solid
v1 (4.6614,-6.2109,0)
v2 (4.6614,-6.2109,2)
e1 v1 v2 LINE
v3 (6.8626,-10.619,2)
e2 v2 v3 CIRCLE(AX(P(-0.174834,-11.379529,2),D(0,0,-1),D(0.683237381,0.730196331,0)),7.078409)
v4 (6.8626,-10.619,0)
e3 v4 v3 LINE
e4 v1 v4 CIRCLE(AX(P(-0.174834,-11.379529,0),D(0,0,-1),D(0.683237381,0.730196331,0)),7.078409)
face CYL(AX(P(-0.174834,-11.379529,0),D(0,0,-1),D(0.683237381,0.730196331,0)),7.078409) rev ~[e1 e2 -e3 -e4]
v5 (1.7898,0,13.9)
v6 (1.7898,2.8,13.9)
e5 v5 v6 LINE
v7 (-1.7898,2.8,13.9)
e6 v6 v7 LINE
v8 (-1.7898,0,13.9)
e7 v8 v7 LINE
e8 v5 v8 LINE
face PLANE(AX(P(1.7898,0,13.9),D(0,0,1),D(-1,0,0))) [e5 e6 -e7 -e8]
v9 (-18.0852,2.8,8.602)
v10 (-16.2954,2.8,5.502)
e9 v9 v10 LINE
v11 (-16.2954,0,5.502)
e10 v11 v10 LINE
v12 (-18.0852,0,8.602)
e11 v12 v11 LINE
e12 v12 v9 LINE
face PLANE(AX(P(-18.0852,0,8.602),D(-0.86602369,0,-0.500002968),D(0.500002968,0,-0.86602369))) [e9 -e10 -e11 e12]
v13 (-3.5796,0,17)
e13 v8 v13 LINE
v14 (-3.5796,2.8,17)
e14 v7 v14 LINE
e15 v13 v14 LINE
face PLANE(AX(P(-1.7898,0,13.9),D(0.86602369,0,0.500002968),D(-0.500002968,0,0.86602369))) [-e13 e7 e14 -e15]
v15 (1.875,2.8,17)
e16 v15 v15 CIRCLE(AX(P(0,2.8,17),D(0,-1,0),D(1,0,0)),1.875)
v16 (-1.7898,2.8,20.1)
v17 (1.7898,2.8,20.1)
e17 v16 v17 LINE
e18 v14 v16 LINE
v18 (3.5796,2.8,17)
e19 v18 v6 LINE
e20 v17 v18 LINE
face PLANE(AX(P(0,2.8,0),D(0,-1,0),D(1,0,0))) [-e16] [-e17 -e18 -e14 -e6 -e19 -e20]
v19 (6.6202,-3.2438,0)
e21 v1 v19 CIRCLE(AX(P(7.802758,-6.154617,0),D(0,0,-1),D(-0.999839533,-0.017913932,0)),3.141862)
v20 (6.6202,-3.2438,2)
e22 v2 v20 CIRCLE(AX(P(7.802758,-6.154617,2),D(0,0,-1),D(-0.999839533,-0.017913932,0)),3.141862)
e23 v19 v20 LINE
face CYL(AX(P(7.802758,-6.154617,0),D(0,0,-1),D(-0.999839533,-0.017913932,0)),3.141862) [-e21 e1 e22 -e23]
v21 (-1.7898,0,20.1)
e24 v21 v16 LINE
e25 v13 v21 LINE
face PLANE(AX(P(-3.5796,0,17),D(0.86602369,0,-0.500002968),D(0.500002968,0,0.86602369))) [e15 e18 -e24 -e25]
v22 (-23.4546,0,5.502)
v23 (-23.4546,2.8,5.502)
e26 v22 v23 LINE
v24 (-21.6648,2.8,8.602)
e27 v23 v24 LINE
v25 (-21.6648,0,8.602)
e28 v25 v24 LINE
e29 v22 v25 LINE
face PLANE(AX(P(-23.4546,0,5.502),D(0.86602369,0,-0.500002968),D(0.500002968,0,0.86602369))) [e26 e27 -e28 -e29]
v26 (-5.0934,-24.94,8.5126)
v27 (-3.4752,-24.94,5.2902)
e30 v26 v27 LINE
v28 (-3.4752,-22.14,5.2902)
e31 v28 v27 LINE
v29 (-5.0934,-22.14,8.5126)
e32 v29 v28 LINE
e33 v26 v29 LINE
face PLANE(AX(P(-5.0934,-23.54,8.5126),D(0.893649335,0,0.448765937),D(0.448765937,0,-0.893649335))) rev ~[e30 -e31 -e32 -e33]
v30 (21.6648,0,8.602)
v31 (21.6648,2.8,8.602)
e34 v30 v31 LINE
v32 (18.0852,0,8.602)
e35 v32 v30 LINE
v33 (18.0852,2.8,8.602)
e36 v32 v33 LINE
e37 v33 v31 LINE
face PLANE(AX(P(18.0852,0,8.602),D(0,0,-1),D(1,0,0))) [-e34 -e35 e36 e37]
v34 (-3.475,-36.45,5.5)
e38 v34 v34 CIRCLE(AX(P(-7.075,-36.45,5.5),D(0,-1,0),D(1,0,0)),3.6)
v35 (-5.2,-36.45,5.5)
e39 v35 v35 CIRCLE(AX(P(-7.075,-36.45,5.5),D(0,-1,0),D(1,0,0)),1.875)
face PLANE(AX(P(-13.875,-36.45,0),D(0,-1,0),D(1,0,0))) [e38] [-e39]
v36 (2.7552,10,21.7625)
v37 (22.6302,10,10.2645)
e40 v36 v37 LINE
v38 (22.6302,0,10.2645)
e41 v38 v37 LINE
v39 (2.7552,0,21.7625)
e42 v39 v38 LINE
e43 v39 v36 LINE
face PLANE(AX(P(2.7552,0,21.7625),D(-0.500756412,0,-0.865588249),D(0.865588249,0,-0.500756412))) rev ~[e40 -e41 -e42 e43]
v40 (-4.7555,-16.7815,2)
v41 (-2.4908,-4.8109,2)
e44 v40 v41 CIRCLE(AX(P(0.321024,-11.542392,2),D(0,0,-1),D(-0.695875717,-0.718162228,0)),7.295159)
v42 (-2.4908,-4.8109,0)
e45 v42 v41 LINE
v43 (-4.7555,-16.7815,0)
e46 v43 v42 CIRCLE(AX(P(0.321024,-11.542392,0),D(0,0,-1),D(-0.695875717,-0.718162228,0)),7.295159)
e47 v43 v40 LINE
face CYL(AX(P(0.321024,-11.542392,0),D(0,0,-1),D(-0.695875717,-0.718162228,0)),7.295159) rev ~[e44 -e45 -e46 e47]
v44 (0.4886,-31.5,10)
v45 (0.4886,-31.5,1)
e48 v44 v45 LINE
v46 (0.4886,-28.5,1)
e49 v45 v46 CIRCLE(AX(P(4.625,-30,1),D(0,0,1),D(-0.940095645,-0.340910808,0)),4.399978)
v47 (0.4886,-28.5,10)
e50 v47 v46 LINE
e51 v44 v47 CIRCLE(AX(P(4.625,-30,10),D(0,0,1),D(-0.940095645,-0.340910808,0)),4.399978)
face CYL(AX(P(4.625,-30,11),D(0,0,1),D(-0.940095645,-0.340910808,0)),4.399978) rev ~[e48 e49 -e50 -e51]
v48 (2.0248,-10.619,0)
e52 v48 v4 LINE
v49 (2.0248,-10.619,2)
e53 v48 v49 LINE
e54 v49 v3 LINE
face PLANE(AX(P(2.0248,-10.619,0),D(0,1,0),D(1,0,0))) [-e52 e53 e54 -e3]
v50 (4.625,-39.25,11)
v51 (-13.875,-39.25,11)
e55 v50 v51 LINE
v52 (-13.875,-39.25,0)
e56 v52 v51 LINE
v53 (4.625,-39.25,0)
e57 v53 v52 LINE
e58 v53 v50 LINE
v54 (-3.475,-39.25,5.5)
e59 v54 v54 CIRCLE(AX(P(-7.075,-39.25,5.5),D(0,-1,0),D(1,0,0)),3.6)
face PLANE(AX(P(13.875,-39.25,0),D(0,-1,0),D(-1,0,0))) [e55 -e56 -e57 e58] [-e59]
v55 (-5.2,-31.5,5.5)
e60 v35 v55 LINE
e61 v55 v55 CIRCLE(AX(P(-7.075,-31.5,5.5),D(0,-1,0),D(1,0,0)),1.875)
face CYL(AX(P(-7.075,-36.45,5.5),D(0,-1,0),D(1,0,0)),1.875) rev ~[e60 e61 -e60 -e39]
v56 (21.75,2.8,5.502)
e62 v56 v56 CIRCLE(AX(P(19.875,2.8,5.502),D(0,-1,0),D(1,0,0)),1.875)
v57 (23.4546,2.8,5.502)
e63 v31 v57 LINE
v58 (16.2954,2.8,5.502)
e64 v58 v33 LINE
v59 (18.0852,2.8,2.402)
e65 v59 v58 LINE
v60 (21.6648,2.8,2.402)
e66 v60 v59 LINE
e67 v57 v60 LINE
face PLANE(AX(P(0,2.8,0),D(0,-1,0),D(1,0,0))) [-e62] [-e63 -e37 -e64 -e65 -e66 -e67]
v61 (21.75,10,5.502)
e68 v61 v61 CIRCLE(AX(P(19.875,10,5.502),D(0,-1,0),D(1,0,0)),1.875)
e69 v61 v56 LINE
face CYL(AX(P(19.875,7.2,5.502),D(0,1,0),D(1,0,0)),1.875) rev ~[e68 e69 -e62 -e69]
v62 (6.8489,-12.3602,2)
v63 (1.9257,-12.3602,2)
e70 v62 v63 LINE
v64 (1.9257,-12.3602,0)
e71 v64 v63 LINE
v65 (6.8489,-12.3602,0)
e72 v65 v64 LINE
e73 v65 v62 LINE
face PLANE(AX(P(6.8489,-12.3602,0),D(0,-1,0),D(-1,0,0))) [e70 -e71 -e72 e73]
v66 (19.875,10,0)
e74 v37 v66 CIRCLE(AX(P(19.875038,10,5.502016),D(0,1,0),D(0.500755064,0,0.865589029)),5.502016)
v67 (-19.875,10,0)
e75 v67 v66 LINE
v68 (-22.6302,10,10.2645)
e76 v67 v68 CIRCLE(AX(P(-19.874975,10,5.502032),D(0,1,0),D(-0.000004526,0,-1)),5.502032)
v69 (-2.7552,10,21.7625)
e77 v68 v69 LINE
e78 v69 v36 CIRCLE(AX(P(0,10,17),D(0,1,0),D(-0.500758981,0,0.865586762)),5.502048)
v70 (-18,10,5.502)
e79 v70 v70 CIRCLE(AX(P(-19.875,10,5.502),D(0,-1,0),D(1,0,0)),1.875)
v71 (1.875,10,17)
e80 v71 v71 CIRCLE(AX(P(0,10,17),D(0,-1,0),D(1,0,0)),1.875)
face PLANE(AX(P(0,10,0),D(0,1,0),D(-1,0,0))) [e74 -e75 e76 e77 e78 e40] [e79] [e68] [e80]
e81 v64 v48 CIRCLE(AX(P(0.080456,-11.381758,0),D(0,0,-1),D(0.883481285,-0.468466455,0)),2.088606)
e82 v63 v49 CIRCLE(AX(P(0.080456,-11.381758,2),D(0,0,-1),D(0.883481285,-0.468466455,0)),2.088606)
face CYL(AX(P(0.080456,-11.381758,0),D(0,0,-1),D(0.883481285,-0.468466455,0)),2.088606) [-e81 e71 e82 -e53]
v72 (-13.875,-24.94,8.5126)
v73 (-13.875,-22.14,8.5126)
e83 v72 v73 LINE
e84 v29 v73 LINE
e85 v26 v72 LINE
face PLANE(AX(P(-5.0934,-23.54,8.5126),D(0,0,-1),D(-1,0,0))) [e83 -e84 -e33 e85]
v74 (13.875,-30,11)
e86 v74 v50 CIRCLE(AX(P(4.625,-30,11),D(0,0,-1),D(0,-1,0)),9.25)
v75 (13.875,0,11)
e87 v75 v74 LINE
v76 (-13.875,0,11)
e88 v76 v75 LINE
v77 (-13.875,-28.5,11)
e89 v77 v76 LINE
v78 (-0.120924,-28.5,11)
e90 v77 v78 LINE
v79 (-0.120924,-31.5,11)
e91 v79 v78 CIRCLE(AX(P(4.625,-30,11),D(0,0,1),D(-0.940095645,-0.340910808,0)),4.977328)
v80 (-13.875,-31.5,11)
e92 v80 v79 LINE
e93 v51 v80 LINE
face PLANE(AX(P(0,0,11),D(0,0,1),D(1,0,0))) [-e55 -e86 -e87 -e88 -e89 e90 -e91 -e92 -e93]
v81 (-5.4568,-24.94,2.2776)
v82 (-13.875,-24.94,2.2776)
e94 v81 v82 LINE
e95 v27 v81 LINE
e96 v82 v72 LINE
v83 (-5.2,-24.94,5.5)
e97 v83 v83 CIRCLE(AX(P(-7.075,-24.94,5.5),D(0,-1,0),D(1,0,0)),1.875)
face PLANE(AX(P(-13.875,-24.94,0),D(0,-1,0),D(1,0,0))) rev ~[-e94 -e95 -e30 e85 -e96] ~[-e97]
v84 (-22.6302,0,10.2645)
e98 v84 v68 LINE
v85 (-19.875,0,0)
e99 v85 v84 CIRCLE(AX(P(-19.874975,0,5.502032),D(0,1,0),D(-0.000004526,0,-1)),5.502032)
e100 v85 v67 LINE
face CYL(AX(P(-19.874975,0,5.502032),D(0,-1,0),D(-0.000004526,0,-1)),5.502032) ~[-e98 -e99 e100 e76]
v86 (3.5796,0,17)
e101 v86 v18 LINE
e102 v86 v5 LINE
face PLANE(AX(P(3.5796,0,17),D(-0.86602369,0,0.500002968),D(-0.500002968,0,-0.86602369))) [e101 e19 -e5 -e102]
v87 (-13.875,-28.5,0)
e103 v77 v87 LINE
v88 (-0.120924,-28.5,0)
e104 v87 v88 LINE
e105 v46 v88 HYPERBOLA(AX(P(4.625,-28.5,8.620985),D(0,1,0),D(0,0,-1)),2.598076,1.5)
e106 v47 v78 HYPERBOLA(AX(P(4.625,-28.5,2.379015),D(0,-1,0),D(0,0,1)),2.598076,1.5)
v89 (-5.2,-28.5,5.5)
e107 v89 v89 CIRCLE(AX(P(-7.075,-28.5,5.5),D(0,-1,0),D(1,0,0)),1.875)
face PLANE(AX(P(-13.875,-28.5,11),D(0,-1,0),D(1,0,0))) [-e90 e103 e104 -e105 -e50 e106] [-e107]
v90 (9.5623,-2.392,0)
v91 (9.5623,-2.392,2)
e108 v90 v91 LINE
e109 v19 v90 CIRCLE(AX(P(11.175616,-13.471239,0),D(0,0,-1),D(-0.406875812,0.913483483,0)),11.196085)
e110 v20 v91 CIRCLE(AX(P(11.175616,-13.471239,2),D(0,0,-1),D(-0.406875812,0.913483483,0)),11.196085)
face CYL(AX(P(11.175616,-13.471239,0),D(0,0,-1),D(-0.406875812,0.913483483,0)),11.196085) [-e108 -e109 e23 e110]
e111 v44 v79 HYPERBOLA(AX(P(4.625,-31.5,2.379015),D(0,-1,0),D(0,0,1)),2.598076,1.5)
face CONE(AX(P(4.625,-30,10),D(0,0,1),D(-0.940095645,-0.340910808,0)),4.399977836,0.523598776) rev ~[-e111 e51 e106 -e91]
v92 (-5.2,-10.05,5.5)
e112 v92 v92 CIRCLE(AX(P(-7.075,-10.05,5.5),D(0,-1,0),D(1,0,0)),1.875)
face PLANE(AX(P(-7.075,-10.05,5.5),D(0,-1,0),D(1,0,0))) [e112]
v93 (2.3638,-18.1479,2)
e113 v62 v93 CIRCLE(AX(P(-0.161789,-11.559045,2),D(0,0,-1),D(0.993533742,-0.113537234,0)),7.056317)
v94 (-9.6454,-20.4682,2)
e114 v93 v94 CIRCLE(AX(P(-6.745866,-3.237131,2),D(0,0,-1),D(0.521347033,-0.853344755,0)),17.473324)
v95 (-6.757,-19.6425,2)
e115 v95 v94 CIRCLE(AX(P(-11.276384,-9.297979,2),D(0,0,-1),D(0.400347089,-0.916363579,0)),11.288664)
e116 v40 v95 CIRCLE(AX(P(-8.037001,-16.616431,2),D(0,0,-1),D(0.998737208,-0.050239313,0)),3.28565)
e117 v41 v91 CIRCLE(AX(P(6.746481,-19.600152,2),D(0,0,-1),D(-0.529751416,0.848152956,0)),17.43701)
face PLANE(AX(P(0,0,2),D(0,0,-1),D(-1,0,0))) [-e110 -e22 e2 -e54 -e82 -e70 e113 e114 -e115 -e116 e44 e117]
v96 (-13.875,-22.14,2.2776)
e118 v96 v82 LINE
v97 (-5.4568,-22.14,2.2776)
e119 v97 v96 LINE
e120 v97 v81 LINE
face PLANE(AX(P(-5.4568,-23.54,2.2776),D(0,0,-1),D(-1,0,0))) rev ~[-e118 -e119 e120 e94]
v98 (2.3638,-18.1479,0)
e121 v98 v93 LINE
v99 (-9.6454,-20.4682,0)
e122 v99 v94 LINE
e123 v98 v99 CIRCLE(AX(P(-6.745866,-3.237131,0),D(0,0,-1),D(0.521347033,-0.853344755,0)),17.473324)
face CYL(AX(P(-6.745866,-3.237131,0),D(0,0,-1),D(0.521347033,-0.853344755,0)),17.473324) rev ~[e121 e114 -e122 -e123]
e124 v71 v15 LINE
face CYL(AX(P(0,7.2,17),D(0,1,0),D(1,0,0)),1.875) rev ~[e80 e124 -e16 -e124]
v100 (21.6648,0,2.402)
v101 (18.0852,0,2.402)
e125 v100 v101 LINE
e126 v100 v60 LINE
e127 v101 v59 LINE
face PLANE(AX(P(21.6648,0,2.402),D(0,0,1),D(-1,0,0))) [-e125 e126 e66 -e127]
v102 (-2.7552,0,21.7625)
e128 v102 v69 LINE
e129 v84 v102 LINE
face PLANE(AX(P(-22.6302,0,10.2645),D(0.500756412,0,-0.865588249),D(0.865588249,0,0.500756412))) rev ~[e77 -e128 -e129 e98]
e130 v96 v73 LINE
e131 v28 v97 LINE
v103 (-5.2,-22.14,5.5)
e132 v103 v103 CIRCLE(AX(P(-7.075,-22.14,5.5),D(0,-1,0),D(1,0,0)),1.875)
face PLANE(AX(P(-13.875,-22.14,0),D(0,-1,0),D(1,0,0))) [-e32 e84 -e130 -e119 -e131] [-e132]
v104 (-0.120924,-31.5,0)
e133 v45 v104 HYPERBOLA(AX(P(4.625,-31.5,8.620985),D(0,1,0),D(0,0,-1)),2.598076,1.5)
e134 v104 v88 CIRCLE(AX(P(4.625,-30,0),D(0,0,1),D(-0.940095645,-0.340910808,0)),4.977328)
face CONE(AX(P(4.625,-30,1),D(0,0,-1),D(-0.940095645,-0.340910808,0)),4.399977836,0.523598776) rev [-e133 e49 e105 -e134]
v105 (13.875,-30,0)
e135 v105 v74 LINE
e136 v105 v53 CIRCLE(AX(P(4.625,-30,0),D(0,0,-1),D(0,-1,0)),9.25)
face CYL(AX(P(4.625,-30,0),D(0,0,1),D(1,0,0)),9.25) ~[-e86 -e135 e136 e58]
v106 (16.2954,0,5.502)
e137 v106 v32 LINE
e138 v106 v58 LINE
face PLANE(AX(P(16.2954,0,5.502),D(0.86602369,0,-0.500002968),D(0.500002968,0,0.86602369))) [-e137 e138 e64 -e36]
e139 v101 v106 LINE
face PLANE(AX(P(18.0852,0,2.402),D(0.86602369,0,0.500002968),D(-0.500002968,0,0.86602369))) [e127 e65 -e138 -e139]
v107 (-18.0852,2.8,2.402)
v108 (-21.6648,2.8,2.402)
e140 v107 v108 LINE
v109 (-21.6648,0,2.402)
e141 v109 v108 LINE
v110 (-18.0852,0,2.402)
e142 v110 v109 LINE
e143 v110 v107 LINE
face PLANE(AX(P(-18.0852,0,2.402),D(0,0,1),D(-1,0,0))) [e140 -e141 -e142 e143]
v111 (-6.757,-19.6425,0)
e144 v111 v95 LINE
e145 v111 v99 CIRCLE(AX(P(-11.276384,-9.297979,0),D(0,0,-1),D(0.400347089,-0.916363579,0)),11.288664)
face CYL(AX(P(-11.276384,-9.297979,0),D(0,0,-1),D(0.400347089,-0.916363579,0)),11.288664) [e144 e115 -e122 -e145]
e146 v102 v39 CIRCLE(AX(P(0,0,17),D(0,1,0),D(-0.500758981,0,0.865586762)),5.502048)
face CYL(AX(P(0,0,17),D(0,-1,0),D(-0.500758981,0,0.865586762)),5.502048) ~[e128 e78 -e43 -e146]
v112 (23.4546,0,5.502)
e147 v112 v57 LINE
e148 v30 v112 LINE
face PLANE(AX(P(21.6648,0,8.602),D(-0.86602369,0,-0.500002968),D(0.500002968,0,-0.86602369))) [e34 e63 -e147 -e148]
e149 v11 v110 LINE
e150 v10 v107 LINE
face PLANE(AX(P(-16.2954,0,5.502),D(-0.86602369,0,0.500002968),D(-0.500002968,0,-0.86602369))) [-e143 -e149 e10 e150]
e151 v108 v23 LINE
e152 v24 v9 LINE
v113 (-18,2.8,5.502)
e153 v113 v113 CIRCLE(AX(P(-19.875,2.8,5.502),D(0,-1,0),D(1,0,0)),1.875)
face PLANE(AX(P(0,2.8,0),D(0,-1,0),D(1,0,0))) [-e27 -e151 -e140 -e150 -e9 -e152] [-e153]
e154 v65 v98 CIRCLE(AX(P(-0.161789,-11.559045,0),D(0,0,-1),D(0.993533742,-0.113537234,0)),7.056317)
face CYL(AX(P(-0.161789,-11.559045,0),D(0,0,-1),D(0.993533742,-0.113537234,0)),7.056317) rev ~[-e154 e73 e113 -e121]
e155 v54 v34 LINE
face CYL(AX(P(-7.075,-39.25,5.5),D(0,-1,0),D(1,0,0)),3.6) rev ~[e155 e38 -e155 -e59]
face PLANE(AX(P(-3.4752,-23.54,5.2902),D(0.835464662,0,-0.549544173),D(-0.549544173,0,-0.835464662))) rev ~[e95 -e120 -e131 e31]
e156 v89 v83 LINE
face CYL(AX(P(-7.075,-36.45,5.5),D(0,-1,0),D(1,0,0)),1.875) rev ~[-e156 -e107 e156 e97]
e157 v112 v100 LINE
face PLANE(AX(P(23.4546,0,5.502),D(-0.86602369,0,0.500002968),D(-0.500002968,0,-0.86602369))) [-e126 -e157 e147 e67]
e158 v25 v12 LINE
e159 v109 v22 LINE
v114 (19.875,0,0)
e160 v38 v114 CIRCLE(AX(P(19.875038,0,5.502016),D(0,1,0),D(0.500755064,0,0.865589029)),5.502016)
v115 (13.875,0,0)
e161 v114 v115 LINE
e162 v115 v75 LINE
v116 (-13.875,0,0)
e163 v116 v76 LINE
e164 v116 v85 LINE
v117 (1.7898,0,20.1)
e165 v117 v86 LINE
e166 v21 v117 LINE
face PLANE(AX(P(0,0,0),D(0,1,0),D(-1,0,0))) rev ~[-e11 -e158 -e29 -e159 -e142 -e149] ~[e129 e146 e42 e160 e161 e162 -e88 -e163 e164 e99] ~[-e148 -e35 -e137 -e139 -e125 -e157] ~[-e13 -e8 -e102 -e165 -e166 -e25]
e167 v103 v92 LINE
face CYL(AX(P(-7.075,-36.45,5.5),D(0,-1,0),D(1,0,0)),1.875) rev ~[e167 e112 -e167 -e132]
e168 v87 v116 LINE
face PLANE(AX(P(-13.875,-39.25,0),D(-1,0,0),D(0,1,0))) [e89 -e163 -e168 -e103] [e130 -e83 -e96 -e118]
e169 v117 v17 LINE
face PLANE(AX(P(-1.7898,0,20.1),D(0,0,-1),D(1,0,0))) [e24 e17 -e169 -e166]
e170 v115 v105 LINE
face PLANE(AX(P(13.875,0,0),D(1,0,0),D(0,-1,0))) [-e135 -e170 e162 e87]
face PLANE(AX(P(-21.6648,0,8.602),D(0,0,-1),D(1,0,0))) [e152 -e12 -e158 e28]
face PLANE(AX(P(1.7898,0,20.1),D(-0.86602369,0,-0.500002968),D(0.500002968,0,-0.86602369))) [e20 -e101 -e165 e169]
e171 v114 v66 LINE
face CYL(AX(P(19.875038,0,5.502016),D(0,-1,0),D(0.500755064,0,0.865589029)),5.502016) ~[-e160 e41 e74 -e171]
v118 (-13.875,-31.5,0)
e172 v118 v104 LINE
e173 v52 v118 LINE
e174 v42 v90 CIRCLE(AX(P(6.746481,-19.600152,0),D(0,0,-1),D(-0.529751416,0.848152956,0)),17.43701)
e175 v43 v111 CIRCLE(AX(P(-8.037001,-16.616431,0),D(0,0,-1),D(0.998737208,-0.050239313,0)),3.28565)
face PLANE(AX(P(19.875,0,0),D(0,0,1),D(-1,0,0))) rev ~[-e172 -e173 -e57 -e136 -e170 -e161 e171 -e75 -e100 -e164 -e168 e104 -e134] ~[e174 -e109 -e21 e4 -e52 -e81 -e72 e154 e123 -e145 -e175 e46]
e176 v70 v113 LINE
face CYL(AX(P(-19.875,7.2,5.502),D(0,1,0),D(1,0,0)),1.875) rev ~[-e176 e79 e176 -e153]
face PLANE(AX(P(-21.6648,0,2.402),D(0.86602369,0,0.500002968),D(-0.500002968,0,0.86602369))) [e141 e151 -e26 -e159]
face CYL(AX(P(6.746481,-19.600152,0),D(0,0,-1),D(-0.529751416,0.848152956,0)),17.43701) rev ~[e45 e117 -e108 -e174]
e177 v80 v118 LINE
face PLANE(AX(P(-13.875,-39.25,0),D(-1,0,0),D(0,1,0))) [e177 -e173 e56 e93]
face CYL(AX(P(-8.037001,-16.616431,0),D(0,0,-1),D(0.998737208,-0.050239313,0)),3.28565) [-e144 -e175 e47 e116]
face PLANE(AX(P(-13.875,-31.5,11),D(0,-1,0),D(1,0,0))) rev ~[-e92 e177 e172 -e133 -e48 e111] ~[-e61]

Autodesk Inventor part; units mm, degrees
sketch "Boceto1" plane through (0, 0, 0) normal (0, 0, 1) x (1, 0, 0)
  line L0 (-13.875, 0) -> (13.875, 0)
  line L1 (13.875, 0) -> (13.875, -39.25)
  line L2 (13.875, -39.25) -> (-13.875, -39.25)
  line L3 (-13.875, -39.25) -> (-13.875, 0)
  point P0 (0, 0)
  point P1 (0, 0)
  dimension "d0" = 27.75
  dimension "d1" = 39.25
extrude "Extrusión1" add sketch "Boceto1" along normal blind 11
fillet "Empalme1" radius 9.25 1 edges at (13.875, -39.25, 5.5)
sketch "Boceto2" plane through (0, 0, 11) normal (0, 0, 1) x (1, 0, 0)
  arc A0 (4.625, -39.25) -> (13.875, -30) centre (4.625, -30) ccw projected
  line L0 (13.875, -30) -> (13.875, 0) projected
  line L1 (13.875, 0) -> (-13.875, 0) projected
  line L2 (-13.875, 0) -> (-13.875, -39.25) projected
  line L3 (-13.875, -39.25) -> (4.625, -39.25) projected
  line L4 (-13.875, 0) -> (-13.875, -39.25) projected
  line L5 (-13.875, -31.5) -> (0.4886, -31.5)
  line L6 (-13.875, -28.5) -> (0.4886, -28.5)
  arc A1 (0.4886, -31.5) -> (0.4886, -28.5) centre (4.625, -30) ccw
  point P0 (0, 0)
  dimension "d5" = 3
  dimension "d6" = 7.75
  dimension "d13" = 1.5
  dimension "d62" = 4.4
  dimension "d63" = 9.25
extrude "Extrusión2" cut sketch "Boceto2" against normal blind 11 contours L2 L6 A1 L5
sketch "Boceto3" plane through (0, 0, 0) normal (0, 1, 0) x (-1, 0, 0)
  line L0 (-19.875, 0) -> (19.875, 0)
  line L1 (22.6302, 10.2645) -> (2.7552, 21.7625)
  line L2 (-2.7552, 21.7625) -> (-22.6302, 10.2645)
  line L3 (13.875, 0) -> (-13.875, 0) projected
  arc A0 (-22.6302, 10.2645) -> (-19.875, 0) centre (-19.875, 5.502) ccw
  arc A1 (19.875, 0) -> (22.6302, 10.2645) centre (19.875, 5.502) ccw
  arc A2 (2.7552, 21.7625) -> (-2.7552, 21.7625) centre (0, 17) ccw
  point P0 (0, 0)
  point P1 (0, 23.3564)
  point P2 (0, 0)
  point P3 (0, 0)
  point P4 (0, 0)
  point P5 (0, 0)
  dimension "d21" = 30.05
  dimension "d23" = 39.75
  dimension "d25" = 17
extrude "Extrusión3" add sketch "Boceto3" along normal blind 10
ref_plane "Plano de trabajo2" through (0, 7.2, 0) normal (0, 1, 0) x (1, 0, 0)
sketch "Boceto5" plane through (0, 7.2, 0) normal (0, 1, 0) x (1, 0, 0)
  line L0 (19.875, 0) -> (-19.875, 0) projected
  arc A0 (-19.875, 0) -> (-22.6302, -10.2645) centre (-19.875, -5.502) ccw projected
  line L1 (-22.6302, -10.2645) -> (-2.7552, -21.7625) projected
  arc A1 (-2.7552, -21.7625) -> (2.7552, -21.7625) centre (0, -17) ccw projected
  line L2 (2.7552, -21.7625) -> (22.6302, -10.2645) projected
  arc A2 (22.6302, -10.2645) -> (19.875, 0) centre (19.875, -5.502) ccw projected
  circle A3 centre (19.875, -5.502) radius 1.875
  circle A4 centre (0, -17) radius 1.875
  circle A5 centre (-19.875, -5.502) radius 1.875
  point P0 (0, 0)
  dimension "d33" = 3.75
  dimension "d34" = 3.75
  dimension "d35" = 3.75
extrude "Extrusión5" cut sketch "Boceto5" along normal through all both and the other way through all contours A3 | A4 | A5
sketch "Boceto6" plane through (0, 0, 0) normal (0, -1, 0) x (1, 0, 0)
  circle A0 centre (0, 17) radius 1.875 projected
  circle A1 centre (19.875, 5.502) radius 1.875 projected
  circle A2 centre (-19.875, 5.502) radius 1.875 projected
  line L0 (13.875, 0) -> (13.875, 11) projected
  line L1 (19.875, 0) -> (13.875, 0) projected
  arc A3 (19.875, 0) -> (22.6302, 10.2645) centre (19.875, 5.502) ccw projected
  line L2 (2.7552, 21.7625) -> (22.6302, 10.2645) projected
  arc A4 (2.7552, 21.7625) -> (-2.7552, 21.7625) centre (0, 17) ccw projected
  line L3 (-22.6302, 10.2645) -> (-2.7552, 21.7625) projected
  arc A5 (-22.6302, 10.2645) -> (-19.875, 0) centre (-19.875, 5.502) ccw projected
  line L4 (-13.875, 0) -> (-19.875, 0) projected
  line L5 (-13.875, 0) -> (-13.875, 11) projected
  line L6 (13.875, 11) -> (-13.875, 11) projected
  line L7 (-18.0852, 8.602) -> (-16.2954, 5.502)
  line L8 (-16.2954, 5.502) -> (-18.0852, 2.402)
  line L9 (-18.0852, 2.402) -> (-21.6648, 2.402)
  line L10 (-21.6648, 2.402) -> (-23.4546, 5.502)
  line L11 (-23.4546, 5.502) -> (-21.6648, 8.602)
  line L12 (-21.6648, 8.602) -> (-18.0852, 8.602)
  line L13 (1.7898, 20.1) -> (3.5796, 17)
  line L14 (3.5796, 17) -> (1.7898, 13.9)
  line L15 (1.7898, 13.9) -> (-1.7898, 13.9)
  line L16 (-1.7898, 13.9) -> (-3.5796, 17)
  line L17 (-3.5796, 17) -> (-1.7898, 20.1)
  line L18 (-1.7898, 20.1) -> (1.7898, 20.1)
  line L19 (18.0852, 8.602) -> (21.6648, 8.602)
  line L20 (21.6648, 8.602) -> (23.4546, 5.502)
  line L21 (23.4546, 5.502) -> (21.6648, 2.402)
  line L22 (21.6648, 2.402) -> (18.0852, 2.402)
  line L23 (18.0852, 2.402) -> (16.2954, 5.502)
  line L24 (16.2954, 5.502) -> (18.0852, 8.602)
  point P0 (0, 0)
  dimension "d38" = 6.2
  dimension "d39" = 6.2
  dimension "d40" = 6.2
extrude "Extrusión6" cut sketch "Boceto6" against normal blind 2.8 contours L7 L8 L9 L10 L11 L12 | L13 L14 L15 L16 L17 L18 | L19 L20 L21 L22 L23 L24
sketch "Boceto7" plane through (-13.875, -39.25, 0) normal (0, -1, 0) x (1, 0, 0)
  circle A0 centre (6.8, 5.5) radius 3.6
  line L0 (18.5, 0) -> (0, 0) projected
  line L1 (0, 0) -> (0, 11) projected
  point P0 (13.875, 0)
  dimension "d43" = 7.2
  dimension "d44" = 5.5
  dimension "d45" = 6.8
extrude "Extrusión7" cut sketch "Boceto7" against normal blind 2.8
sketch "Boceto8" plane through (-7.075, -36.45, 5.5) normal (0, -1, 0) x (1, 0, 0)
  circle A0 centre (0, 0) radius 3.6 projected
  circle A1 centre (0, 0) radius 1.875
  point P0 (7.075, -5.5)
  dimension "d48" = 3.75
extrude "Extrusión8" cut sketch "Boceto8" against normal blind 26.4 contours A1
ref_plane "Plano de trabajo3" through (-13.875, -23.54, 0) normal (0, -1, 0) x (1, 0, 0)
sketch "Boceto9" plane through (-13.875, -23.54, 0) normal (0, -1, 0) x (1, 0, 0)
  circle A0 centre (6.8, 5.5) radius 1.875 projected
  line L0 (27.75, 11) -> (0, 11) projected
  line L1 (0, 0) -> (0, 11) projected
  line L2 (-21.6528, 0) -> (49.4028, 0) projected
  line L3 (8.7816, 8.5126) -> (10.3998, 5.2902)
  line L4 (10.3998, 5.2902) -> (8.4182, 2.2776)
  line L5 (8.7816, 8.5126) -> (0, 8.5126)
  line L6 (8.4182, 2.2776) -> (0, 2.2776)
  point P0 (13.875, 0)
  dimension "d53" = 120
  dimension "d56" = 6.235
  dimension "d57" = 8.7816
extrude "Extrusión9" cut sketch "Boceto9" along normal mid plane 2.8
sketch "Boceto10" plane through (0, 0, 0) normal (0, 0, -1) x (-1, 0, 0)
  line L0 (-6.6202, -3.2438) -> (-7.3905, -2.9152) construction
  line L1 (-8.0553, -2.0944) -> (-6.2205, -2.0944) construction
  line L2 (-7.3905, -2.9152) -> (-8.2942, -2.6479) construction
  line L3 (-8.8708, -2.1991) -> (-8.0553, -2.0944) construction
  line L4 (-8.2942, -2.6479) -> (-9.3576, -2.433) construction
  line L5 (-9.521, -2.3562) -> (-8.8708, -2.1991) construction
  line L6 (-9.5623, -2.392) -> (-9.521, -2.3562) construction
  line L7 (-9.3576, -2.433) -> (-9.5623, -2.392) construction
  arc A0 (-6.6202, -3.2438) -> (-9.5623, -2.392) centre (-11.1752, -13.4701) ccw
  line L8 (-4.1904, -17.1175) -> (-4.9646, -16.4122) construction
  line L9 (-2.3638, -18.1479) -> (-2.8515, -17.944) construction
  line L10 (-2.2067, -18.1953) -> (-2.372, -18.0796) construction
  line L11 (-6.5651, -9.2139) -> (-6.3061, -8.5334) construction
  line L12 (-6.7552, -9.9275) -> (-6.5651, -9.2139) construction
  line L13 (-6.8626, -10.619) -> (-6.7552, -9.9275) construction
  line L14 (-6.3061, -8.5334) -> (-5.981, -7.886) construction
  line L15 (-5.981, -7.886) -> (-5.5953, -7.2826) construction
  line L16 (-5.5953, -7.2826) -> (-5.1545, -6.7234) construction
  line L17 (-4.6724, -6.0787) -> (-4.733, -5.5552) construction
  line L18 (-4.6614, -6.2109) -> (-4.6724, -6.0787) construction
  line L19 (-5.1545, -6.7234) -> (-4.6614, -6.2109) construction
  arc A1 (-4.6614, -6.2109) -> (-6.8626, -10.619) centre (0.1756, -11.3801) ccw
  line L20 (-6.8489, -12.3602) -> (-1.9257, -12.3602)
  line L21 (-2.0248, -10.619) -> (-6.8626, -10.619) construction
  line L22 (-2.0248, -10.619) -> (-6.8626, -10.619)
  line L23 (-3.3198, -17.7016) -> (-3.7661, -17.4261) construction
  line L24 (-3.7661, -17.4261) -> (-4.1904, -17.1175) construction
  line L25 (-2.8515, -17.944) -> (-3.3198, -17.7016) construction
  line L26 (-4.9646, -16.4122) -> (-5.6285, -15.594) construction
  line L27 (-5.6285, -15.594) -> (-5.9123, -15.1504) construction
  line L28 (-5.9123, -15.1504) -> (-6.1658, -14.682) construction
  arc A2 (-6.8489, -12.3602) -> (-2.3638, -18.1479) centre (0.1619, -11.559) ccw
  line L29 (-6.1658, -14.682) -> (-6.3834, -14.1944) construction
  line L30 (-0.5371, -13.4071) -> (-0.1239, -13.4484) construction
  line L31 (-0.9228, -13.2858) -> (-0.5371, -13.4071) construction
  line L32 (-1.2727, -13.0985) -> (-0.9228, -13.2858) construction
  line L33 (-6.8489, -12.3602) -> (-1.9257, -12.3602) construction
  line L34 (-6.3834, -14.1944) -> (-6.568, -13.6847) construction
  line L35 (-6.568, -13.6847) -> (-6.7112, -13.1613) construction
  line L36 (-6.7112, -13.1613) -> (-6.8268, -12.553) construction
  line L37 (-6.8268, -12.553) -> (-6.8489, -12.3602) construction
  line L38 (1.5815, -12.542) -> (1.7688, -12.1921) construction
  line L39 (1.025, -13.0985) -> (1.328, -12.845) construction
  line L40 (0.6751, -13.2858) -> (1.025, -13.0985) construction
  line L41 (0.2894, -13.4071) -> (0.6751, -13.2858) construction
  line L42 (-0.1239, -13.4484) -> (0.2894, -13.4071) construction
  line L43 (1.328, -12.845) -> (1.5815, -12.542) construction
  line L44 (1.328, -9.9412) -> (1.025, -9.6905) construction
  line L45 (1.025, -9.6905) -> (0.6751, -9.5004) construction
  line L46 (1.7688, -10.5942) -> (1.5815, -10.2443) construction
  line L47 (1.5815, -10.2443) -> (1.328, -9.9412) construction
  line L48 (1.89, -10.9799) -> (1.7688, -10.5942) construction
  line L49 (0.6751, -9.5004) -> (0.2894, -9.382) construction
  line L50 (1.9314, -11.3931) -> (1.89, -10.9799) construction
  line L51 (0.2894, -9.382) -> (-0.1239, -9.3406) construction
  line L52 (-1.9257, -12.3602) -> (-1.8292, -12.542) construction
  line L53 (-1.8292, -12.542) -> (-1.5758, -12.845) construction
  line L54 (-1.5758, -12.845) -> (-1.2727, -13.0985) construction
  line L55 (1.89, -11.8064) -> (1.9314, -11.3931) construction
  line L56 (1.7688, -12.1921) -> (1.89, -11.8064) construction
  arc A3 (-1.9257, -12.3602) -> (-2.0248, -10.619) centre (-0.0805, -11.3816) ccw
  line L57 (-2.6748, -2.6372) -> (-1.5397, -2.9457) construction
  arc A4 (2.4908, -4.8109) -> (-9.5623, -2.392) centre (-6.7465, -19.6002) ccw
  line L58 (-3.8457, -2.3892) -> (-2.6748, -2.6372) construction
  line L59 (-5.9617, -3.6405) -> (-6.6202, -3.2438) construction
  line L60 (-5.5678, -3.9821) -> (-5.9617, -3.6405) construction
  line L61 (-6.2205, -2.0944) -> (-5.0331, -2.2074) construction
  line L62 (-5.2317, -4.3596) -> (-5.5678, -3.9821) construction
  line L63 (-5.0002, -4.7342) -> (-5.2317, -4.3596) construction
  arc A5 (-4.6614, -6.2109) -> (-6.6202, -3.2438) centre (-7.8027, -6.1546) ccw
  line L64 (-4.8377, -5.1199) -> (-5.0002, -4.7342) construction
  line L65 (-4.733, -5.5552) -> (-4.8377, -5.1199) construction
  line L66 (-5.0331, -2.2074) -> (-3.8457, -2.3892) construction
  line L67 (1.477, -4.1745) -> (2.2925, -4.6676) construction
  line L68 (0.5541, -3.7199) -> (1.477, -4.1745) construction
  line L69 (-0.457, -3.3094) -> (0.5541, -3.7199) construction
  line L70 (-1.5397, -2.9457) -> (-0.457, -3.3094) construction
  line L71 (2.2925, -4.6676) -> (2.4908, -4.8109) construction
  line L72 (4.7417, -16.6134) -> (4.7555, -16.7815) construction
  line L73 (5.2266, -16.1038) -> (4.7417, -16.6134) construction
  line L74 (6.0393, -14.9466) -> (5.6619, -15.5472) construction
  line L75 (2.4908, -4.8109) -> (2.9702, -5.0203) construction
  line L76 (2.9702, -5.0203) -> (3.4331, -5.2627) construction
  line L77 (3.4331, -5.2627) -> (4.2899, -5.8495) construction
  line L78 (4.2899, -5.8495) -> (5.0502, -6.5548) construction
  line L79 (5.0502, -6.5548) -> (5.7032, -7.3676) construction
  line L80 (5.7032, -7.3676) -> (6.2321, -8.2767) construction
  line L81 (6.2321, -8.2767) -> (6.447, -8.7616) construction
  arc A6 (4.7555, -16.7815) -> (2.4908, -4.8109) centre (-0.321, -11.5424) ccw
  line L82 (6.3589, -14.3047) -> (6.0393, -14.9466) construction
  line L83 (5.6619, -15.5472) -> (5.2266, -16.1038) construction
  line L84 (6.447, -8.7616) -> (6.6261, -9.2658) construction
  line L85 (4.8161, -17.305) -> (4.9235, -17.7402) construction
  line L86 (4.9235, -17.7402) -> (5.0861, -18.126) construction
  line L87 (4.7555, -16.7815) -> (4.8161, -17.305) construction
  line L88 (5.0861, -18.126) -> (5.3175, -18.5006) construction
  line L89 (5.3175, -18.5006) -> (5.6536, -18.8781) construction
  line L90 (5.6536, -18.8781) -> (6.0986, -19.2458) construction
  line L91 (6.2225, -20.7819) -> (5.0379, -20.669) construction
  arc A7 (4.7555, -16.7815) -> (6.757, -19.6425) centre (8.0368, -16.6165) ccw
  line L92 (6.0986, -19.2458) -> (6.757, -19.6425) construction
  line L93 (7.1537, -20.7985) -> (6.2225, -20.7819) construction
  line L94 (6.757, -19.6425) -> (7.4717, -19.9448) construction
  line L95 (6.6261, -9.2658) -> (6.7694, -9.7837) construction
  line L96 (6.7694, -9.7837) -> (6.8713, -10.321) construction
  line L97 (6.9347, -10.8692) -> (6.9567, -11.4312) construction
  line L98 (6.9567, -11.4312) -> (6.9181, -12.1889) construction
  line L99 (6.9181, -12.1889) -> (6.8024, -12.9245) construction
  line L100 (6.8024, -12.9245) -> (6.6151, -13.6297) construction
  line L101 (6.6151, -13.6297) -> (6.3589, -14.3047) construction
  line L102 (6.8713, -10.321) -> (6.9347, -10.8692) construction
  line L103 (7.4717, -19.9448) -> (8.3753, -20.212) construction
  arc A8 (6.757, -19.6425) -> (9.6454, -20.4682) centre (11.2767, -9.2971) ccw
  line L104 (8.3753, -20.212) -> (9.4388, -20.4269) construction
  line L105 (9.4388, -20.4269) -> (9.6454, -20.4682) construction
  line L106 (8.1384, -20.7658) -> (7.2348, -20.785) construction
  line L107 (8.9539, -20.6611) -> (8.1384, -20.7658) construction
  line L108 (9.6041, -20.504) -> (8.9539, -20.6611) construction
  line L109 (9.6454, -20.4682) -> (9.6041, -20.504) construction
  line L110 (5.0379, -20.669) -> (3.8505, -20.4872) construction
  line L111 (3.8505, -20.4872) -> (2.6796, -20.2392) construction
  arc A9 (-2.3638, -18.1479) -> (9.6454, -20.4682) centre (6.7458, -3.2373) ccw
  line L112 (2.6796, -20.2392) -> (1.5445, -19.9306) construction
  line L113 (0.5428, -19.5535) -> (-0.4683, -19.143) construction
  line L114 (-0.4683, -19.143) -> (-1.3912, -18.6885) construction
  line L115 (-1.3912, -18.6885) -> (-2.2067, -18.1953) construction
  line L116 (1.6255, -19.9172) -> (0.5428, -19.5535) construction
  line L117 (-2.0166, -10.5942) -> (-2.0248, -10.619) construction
  line L118 (-1.8292, -10.2443) -> (-2.0166, -10.5942) construction
  line L119 (-1.5758, -9.9412) -> (-1.8292, -10.2443) construction
  line L120 (-1.2727, -9.6905) -> (-1.5758, -9.9412) construction
  line L121 (-0.9228, -9.5004) -> (-1.2727, -9.6905) construction
  line L122 (-0.5371, -9.382) -> (-0.9228, -9.5004) construction
  line L123 (-0.1239, -9.3406) -> (-0.5371, -9.382) construction
  point P0 (0, 0)
extrude "Extrusión10" cut sketch "Boceto10" against normal blind 2
sketch "Boceto11" plane through (0, 2.8, 0) normal (0, -1, 0) x (1, 0, 0)
  point P0 (0, 0)
chamfer "Chamfer1" distance 1 angle 30 2 edges at (9.025, -30, 0) (9.025, -30, 11) measured on face at (8.0232, -32.795, 3.6667)
